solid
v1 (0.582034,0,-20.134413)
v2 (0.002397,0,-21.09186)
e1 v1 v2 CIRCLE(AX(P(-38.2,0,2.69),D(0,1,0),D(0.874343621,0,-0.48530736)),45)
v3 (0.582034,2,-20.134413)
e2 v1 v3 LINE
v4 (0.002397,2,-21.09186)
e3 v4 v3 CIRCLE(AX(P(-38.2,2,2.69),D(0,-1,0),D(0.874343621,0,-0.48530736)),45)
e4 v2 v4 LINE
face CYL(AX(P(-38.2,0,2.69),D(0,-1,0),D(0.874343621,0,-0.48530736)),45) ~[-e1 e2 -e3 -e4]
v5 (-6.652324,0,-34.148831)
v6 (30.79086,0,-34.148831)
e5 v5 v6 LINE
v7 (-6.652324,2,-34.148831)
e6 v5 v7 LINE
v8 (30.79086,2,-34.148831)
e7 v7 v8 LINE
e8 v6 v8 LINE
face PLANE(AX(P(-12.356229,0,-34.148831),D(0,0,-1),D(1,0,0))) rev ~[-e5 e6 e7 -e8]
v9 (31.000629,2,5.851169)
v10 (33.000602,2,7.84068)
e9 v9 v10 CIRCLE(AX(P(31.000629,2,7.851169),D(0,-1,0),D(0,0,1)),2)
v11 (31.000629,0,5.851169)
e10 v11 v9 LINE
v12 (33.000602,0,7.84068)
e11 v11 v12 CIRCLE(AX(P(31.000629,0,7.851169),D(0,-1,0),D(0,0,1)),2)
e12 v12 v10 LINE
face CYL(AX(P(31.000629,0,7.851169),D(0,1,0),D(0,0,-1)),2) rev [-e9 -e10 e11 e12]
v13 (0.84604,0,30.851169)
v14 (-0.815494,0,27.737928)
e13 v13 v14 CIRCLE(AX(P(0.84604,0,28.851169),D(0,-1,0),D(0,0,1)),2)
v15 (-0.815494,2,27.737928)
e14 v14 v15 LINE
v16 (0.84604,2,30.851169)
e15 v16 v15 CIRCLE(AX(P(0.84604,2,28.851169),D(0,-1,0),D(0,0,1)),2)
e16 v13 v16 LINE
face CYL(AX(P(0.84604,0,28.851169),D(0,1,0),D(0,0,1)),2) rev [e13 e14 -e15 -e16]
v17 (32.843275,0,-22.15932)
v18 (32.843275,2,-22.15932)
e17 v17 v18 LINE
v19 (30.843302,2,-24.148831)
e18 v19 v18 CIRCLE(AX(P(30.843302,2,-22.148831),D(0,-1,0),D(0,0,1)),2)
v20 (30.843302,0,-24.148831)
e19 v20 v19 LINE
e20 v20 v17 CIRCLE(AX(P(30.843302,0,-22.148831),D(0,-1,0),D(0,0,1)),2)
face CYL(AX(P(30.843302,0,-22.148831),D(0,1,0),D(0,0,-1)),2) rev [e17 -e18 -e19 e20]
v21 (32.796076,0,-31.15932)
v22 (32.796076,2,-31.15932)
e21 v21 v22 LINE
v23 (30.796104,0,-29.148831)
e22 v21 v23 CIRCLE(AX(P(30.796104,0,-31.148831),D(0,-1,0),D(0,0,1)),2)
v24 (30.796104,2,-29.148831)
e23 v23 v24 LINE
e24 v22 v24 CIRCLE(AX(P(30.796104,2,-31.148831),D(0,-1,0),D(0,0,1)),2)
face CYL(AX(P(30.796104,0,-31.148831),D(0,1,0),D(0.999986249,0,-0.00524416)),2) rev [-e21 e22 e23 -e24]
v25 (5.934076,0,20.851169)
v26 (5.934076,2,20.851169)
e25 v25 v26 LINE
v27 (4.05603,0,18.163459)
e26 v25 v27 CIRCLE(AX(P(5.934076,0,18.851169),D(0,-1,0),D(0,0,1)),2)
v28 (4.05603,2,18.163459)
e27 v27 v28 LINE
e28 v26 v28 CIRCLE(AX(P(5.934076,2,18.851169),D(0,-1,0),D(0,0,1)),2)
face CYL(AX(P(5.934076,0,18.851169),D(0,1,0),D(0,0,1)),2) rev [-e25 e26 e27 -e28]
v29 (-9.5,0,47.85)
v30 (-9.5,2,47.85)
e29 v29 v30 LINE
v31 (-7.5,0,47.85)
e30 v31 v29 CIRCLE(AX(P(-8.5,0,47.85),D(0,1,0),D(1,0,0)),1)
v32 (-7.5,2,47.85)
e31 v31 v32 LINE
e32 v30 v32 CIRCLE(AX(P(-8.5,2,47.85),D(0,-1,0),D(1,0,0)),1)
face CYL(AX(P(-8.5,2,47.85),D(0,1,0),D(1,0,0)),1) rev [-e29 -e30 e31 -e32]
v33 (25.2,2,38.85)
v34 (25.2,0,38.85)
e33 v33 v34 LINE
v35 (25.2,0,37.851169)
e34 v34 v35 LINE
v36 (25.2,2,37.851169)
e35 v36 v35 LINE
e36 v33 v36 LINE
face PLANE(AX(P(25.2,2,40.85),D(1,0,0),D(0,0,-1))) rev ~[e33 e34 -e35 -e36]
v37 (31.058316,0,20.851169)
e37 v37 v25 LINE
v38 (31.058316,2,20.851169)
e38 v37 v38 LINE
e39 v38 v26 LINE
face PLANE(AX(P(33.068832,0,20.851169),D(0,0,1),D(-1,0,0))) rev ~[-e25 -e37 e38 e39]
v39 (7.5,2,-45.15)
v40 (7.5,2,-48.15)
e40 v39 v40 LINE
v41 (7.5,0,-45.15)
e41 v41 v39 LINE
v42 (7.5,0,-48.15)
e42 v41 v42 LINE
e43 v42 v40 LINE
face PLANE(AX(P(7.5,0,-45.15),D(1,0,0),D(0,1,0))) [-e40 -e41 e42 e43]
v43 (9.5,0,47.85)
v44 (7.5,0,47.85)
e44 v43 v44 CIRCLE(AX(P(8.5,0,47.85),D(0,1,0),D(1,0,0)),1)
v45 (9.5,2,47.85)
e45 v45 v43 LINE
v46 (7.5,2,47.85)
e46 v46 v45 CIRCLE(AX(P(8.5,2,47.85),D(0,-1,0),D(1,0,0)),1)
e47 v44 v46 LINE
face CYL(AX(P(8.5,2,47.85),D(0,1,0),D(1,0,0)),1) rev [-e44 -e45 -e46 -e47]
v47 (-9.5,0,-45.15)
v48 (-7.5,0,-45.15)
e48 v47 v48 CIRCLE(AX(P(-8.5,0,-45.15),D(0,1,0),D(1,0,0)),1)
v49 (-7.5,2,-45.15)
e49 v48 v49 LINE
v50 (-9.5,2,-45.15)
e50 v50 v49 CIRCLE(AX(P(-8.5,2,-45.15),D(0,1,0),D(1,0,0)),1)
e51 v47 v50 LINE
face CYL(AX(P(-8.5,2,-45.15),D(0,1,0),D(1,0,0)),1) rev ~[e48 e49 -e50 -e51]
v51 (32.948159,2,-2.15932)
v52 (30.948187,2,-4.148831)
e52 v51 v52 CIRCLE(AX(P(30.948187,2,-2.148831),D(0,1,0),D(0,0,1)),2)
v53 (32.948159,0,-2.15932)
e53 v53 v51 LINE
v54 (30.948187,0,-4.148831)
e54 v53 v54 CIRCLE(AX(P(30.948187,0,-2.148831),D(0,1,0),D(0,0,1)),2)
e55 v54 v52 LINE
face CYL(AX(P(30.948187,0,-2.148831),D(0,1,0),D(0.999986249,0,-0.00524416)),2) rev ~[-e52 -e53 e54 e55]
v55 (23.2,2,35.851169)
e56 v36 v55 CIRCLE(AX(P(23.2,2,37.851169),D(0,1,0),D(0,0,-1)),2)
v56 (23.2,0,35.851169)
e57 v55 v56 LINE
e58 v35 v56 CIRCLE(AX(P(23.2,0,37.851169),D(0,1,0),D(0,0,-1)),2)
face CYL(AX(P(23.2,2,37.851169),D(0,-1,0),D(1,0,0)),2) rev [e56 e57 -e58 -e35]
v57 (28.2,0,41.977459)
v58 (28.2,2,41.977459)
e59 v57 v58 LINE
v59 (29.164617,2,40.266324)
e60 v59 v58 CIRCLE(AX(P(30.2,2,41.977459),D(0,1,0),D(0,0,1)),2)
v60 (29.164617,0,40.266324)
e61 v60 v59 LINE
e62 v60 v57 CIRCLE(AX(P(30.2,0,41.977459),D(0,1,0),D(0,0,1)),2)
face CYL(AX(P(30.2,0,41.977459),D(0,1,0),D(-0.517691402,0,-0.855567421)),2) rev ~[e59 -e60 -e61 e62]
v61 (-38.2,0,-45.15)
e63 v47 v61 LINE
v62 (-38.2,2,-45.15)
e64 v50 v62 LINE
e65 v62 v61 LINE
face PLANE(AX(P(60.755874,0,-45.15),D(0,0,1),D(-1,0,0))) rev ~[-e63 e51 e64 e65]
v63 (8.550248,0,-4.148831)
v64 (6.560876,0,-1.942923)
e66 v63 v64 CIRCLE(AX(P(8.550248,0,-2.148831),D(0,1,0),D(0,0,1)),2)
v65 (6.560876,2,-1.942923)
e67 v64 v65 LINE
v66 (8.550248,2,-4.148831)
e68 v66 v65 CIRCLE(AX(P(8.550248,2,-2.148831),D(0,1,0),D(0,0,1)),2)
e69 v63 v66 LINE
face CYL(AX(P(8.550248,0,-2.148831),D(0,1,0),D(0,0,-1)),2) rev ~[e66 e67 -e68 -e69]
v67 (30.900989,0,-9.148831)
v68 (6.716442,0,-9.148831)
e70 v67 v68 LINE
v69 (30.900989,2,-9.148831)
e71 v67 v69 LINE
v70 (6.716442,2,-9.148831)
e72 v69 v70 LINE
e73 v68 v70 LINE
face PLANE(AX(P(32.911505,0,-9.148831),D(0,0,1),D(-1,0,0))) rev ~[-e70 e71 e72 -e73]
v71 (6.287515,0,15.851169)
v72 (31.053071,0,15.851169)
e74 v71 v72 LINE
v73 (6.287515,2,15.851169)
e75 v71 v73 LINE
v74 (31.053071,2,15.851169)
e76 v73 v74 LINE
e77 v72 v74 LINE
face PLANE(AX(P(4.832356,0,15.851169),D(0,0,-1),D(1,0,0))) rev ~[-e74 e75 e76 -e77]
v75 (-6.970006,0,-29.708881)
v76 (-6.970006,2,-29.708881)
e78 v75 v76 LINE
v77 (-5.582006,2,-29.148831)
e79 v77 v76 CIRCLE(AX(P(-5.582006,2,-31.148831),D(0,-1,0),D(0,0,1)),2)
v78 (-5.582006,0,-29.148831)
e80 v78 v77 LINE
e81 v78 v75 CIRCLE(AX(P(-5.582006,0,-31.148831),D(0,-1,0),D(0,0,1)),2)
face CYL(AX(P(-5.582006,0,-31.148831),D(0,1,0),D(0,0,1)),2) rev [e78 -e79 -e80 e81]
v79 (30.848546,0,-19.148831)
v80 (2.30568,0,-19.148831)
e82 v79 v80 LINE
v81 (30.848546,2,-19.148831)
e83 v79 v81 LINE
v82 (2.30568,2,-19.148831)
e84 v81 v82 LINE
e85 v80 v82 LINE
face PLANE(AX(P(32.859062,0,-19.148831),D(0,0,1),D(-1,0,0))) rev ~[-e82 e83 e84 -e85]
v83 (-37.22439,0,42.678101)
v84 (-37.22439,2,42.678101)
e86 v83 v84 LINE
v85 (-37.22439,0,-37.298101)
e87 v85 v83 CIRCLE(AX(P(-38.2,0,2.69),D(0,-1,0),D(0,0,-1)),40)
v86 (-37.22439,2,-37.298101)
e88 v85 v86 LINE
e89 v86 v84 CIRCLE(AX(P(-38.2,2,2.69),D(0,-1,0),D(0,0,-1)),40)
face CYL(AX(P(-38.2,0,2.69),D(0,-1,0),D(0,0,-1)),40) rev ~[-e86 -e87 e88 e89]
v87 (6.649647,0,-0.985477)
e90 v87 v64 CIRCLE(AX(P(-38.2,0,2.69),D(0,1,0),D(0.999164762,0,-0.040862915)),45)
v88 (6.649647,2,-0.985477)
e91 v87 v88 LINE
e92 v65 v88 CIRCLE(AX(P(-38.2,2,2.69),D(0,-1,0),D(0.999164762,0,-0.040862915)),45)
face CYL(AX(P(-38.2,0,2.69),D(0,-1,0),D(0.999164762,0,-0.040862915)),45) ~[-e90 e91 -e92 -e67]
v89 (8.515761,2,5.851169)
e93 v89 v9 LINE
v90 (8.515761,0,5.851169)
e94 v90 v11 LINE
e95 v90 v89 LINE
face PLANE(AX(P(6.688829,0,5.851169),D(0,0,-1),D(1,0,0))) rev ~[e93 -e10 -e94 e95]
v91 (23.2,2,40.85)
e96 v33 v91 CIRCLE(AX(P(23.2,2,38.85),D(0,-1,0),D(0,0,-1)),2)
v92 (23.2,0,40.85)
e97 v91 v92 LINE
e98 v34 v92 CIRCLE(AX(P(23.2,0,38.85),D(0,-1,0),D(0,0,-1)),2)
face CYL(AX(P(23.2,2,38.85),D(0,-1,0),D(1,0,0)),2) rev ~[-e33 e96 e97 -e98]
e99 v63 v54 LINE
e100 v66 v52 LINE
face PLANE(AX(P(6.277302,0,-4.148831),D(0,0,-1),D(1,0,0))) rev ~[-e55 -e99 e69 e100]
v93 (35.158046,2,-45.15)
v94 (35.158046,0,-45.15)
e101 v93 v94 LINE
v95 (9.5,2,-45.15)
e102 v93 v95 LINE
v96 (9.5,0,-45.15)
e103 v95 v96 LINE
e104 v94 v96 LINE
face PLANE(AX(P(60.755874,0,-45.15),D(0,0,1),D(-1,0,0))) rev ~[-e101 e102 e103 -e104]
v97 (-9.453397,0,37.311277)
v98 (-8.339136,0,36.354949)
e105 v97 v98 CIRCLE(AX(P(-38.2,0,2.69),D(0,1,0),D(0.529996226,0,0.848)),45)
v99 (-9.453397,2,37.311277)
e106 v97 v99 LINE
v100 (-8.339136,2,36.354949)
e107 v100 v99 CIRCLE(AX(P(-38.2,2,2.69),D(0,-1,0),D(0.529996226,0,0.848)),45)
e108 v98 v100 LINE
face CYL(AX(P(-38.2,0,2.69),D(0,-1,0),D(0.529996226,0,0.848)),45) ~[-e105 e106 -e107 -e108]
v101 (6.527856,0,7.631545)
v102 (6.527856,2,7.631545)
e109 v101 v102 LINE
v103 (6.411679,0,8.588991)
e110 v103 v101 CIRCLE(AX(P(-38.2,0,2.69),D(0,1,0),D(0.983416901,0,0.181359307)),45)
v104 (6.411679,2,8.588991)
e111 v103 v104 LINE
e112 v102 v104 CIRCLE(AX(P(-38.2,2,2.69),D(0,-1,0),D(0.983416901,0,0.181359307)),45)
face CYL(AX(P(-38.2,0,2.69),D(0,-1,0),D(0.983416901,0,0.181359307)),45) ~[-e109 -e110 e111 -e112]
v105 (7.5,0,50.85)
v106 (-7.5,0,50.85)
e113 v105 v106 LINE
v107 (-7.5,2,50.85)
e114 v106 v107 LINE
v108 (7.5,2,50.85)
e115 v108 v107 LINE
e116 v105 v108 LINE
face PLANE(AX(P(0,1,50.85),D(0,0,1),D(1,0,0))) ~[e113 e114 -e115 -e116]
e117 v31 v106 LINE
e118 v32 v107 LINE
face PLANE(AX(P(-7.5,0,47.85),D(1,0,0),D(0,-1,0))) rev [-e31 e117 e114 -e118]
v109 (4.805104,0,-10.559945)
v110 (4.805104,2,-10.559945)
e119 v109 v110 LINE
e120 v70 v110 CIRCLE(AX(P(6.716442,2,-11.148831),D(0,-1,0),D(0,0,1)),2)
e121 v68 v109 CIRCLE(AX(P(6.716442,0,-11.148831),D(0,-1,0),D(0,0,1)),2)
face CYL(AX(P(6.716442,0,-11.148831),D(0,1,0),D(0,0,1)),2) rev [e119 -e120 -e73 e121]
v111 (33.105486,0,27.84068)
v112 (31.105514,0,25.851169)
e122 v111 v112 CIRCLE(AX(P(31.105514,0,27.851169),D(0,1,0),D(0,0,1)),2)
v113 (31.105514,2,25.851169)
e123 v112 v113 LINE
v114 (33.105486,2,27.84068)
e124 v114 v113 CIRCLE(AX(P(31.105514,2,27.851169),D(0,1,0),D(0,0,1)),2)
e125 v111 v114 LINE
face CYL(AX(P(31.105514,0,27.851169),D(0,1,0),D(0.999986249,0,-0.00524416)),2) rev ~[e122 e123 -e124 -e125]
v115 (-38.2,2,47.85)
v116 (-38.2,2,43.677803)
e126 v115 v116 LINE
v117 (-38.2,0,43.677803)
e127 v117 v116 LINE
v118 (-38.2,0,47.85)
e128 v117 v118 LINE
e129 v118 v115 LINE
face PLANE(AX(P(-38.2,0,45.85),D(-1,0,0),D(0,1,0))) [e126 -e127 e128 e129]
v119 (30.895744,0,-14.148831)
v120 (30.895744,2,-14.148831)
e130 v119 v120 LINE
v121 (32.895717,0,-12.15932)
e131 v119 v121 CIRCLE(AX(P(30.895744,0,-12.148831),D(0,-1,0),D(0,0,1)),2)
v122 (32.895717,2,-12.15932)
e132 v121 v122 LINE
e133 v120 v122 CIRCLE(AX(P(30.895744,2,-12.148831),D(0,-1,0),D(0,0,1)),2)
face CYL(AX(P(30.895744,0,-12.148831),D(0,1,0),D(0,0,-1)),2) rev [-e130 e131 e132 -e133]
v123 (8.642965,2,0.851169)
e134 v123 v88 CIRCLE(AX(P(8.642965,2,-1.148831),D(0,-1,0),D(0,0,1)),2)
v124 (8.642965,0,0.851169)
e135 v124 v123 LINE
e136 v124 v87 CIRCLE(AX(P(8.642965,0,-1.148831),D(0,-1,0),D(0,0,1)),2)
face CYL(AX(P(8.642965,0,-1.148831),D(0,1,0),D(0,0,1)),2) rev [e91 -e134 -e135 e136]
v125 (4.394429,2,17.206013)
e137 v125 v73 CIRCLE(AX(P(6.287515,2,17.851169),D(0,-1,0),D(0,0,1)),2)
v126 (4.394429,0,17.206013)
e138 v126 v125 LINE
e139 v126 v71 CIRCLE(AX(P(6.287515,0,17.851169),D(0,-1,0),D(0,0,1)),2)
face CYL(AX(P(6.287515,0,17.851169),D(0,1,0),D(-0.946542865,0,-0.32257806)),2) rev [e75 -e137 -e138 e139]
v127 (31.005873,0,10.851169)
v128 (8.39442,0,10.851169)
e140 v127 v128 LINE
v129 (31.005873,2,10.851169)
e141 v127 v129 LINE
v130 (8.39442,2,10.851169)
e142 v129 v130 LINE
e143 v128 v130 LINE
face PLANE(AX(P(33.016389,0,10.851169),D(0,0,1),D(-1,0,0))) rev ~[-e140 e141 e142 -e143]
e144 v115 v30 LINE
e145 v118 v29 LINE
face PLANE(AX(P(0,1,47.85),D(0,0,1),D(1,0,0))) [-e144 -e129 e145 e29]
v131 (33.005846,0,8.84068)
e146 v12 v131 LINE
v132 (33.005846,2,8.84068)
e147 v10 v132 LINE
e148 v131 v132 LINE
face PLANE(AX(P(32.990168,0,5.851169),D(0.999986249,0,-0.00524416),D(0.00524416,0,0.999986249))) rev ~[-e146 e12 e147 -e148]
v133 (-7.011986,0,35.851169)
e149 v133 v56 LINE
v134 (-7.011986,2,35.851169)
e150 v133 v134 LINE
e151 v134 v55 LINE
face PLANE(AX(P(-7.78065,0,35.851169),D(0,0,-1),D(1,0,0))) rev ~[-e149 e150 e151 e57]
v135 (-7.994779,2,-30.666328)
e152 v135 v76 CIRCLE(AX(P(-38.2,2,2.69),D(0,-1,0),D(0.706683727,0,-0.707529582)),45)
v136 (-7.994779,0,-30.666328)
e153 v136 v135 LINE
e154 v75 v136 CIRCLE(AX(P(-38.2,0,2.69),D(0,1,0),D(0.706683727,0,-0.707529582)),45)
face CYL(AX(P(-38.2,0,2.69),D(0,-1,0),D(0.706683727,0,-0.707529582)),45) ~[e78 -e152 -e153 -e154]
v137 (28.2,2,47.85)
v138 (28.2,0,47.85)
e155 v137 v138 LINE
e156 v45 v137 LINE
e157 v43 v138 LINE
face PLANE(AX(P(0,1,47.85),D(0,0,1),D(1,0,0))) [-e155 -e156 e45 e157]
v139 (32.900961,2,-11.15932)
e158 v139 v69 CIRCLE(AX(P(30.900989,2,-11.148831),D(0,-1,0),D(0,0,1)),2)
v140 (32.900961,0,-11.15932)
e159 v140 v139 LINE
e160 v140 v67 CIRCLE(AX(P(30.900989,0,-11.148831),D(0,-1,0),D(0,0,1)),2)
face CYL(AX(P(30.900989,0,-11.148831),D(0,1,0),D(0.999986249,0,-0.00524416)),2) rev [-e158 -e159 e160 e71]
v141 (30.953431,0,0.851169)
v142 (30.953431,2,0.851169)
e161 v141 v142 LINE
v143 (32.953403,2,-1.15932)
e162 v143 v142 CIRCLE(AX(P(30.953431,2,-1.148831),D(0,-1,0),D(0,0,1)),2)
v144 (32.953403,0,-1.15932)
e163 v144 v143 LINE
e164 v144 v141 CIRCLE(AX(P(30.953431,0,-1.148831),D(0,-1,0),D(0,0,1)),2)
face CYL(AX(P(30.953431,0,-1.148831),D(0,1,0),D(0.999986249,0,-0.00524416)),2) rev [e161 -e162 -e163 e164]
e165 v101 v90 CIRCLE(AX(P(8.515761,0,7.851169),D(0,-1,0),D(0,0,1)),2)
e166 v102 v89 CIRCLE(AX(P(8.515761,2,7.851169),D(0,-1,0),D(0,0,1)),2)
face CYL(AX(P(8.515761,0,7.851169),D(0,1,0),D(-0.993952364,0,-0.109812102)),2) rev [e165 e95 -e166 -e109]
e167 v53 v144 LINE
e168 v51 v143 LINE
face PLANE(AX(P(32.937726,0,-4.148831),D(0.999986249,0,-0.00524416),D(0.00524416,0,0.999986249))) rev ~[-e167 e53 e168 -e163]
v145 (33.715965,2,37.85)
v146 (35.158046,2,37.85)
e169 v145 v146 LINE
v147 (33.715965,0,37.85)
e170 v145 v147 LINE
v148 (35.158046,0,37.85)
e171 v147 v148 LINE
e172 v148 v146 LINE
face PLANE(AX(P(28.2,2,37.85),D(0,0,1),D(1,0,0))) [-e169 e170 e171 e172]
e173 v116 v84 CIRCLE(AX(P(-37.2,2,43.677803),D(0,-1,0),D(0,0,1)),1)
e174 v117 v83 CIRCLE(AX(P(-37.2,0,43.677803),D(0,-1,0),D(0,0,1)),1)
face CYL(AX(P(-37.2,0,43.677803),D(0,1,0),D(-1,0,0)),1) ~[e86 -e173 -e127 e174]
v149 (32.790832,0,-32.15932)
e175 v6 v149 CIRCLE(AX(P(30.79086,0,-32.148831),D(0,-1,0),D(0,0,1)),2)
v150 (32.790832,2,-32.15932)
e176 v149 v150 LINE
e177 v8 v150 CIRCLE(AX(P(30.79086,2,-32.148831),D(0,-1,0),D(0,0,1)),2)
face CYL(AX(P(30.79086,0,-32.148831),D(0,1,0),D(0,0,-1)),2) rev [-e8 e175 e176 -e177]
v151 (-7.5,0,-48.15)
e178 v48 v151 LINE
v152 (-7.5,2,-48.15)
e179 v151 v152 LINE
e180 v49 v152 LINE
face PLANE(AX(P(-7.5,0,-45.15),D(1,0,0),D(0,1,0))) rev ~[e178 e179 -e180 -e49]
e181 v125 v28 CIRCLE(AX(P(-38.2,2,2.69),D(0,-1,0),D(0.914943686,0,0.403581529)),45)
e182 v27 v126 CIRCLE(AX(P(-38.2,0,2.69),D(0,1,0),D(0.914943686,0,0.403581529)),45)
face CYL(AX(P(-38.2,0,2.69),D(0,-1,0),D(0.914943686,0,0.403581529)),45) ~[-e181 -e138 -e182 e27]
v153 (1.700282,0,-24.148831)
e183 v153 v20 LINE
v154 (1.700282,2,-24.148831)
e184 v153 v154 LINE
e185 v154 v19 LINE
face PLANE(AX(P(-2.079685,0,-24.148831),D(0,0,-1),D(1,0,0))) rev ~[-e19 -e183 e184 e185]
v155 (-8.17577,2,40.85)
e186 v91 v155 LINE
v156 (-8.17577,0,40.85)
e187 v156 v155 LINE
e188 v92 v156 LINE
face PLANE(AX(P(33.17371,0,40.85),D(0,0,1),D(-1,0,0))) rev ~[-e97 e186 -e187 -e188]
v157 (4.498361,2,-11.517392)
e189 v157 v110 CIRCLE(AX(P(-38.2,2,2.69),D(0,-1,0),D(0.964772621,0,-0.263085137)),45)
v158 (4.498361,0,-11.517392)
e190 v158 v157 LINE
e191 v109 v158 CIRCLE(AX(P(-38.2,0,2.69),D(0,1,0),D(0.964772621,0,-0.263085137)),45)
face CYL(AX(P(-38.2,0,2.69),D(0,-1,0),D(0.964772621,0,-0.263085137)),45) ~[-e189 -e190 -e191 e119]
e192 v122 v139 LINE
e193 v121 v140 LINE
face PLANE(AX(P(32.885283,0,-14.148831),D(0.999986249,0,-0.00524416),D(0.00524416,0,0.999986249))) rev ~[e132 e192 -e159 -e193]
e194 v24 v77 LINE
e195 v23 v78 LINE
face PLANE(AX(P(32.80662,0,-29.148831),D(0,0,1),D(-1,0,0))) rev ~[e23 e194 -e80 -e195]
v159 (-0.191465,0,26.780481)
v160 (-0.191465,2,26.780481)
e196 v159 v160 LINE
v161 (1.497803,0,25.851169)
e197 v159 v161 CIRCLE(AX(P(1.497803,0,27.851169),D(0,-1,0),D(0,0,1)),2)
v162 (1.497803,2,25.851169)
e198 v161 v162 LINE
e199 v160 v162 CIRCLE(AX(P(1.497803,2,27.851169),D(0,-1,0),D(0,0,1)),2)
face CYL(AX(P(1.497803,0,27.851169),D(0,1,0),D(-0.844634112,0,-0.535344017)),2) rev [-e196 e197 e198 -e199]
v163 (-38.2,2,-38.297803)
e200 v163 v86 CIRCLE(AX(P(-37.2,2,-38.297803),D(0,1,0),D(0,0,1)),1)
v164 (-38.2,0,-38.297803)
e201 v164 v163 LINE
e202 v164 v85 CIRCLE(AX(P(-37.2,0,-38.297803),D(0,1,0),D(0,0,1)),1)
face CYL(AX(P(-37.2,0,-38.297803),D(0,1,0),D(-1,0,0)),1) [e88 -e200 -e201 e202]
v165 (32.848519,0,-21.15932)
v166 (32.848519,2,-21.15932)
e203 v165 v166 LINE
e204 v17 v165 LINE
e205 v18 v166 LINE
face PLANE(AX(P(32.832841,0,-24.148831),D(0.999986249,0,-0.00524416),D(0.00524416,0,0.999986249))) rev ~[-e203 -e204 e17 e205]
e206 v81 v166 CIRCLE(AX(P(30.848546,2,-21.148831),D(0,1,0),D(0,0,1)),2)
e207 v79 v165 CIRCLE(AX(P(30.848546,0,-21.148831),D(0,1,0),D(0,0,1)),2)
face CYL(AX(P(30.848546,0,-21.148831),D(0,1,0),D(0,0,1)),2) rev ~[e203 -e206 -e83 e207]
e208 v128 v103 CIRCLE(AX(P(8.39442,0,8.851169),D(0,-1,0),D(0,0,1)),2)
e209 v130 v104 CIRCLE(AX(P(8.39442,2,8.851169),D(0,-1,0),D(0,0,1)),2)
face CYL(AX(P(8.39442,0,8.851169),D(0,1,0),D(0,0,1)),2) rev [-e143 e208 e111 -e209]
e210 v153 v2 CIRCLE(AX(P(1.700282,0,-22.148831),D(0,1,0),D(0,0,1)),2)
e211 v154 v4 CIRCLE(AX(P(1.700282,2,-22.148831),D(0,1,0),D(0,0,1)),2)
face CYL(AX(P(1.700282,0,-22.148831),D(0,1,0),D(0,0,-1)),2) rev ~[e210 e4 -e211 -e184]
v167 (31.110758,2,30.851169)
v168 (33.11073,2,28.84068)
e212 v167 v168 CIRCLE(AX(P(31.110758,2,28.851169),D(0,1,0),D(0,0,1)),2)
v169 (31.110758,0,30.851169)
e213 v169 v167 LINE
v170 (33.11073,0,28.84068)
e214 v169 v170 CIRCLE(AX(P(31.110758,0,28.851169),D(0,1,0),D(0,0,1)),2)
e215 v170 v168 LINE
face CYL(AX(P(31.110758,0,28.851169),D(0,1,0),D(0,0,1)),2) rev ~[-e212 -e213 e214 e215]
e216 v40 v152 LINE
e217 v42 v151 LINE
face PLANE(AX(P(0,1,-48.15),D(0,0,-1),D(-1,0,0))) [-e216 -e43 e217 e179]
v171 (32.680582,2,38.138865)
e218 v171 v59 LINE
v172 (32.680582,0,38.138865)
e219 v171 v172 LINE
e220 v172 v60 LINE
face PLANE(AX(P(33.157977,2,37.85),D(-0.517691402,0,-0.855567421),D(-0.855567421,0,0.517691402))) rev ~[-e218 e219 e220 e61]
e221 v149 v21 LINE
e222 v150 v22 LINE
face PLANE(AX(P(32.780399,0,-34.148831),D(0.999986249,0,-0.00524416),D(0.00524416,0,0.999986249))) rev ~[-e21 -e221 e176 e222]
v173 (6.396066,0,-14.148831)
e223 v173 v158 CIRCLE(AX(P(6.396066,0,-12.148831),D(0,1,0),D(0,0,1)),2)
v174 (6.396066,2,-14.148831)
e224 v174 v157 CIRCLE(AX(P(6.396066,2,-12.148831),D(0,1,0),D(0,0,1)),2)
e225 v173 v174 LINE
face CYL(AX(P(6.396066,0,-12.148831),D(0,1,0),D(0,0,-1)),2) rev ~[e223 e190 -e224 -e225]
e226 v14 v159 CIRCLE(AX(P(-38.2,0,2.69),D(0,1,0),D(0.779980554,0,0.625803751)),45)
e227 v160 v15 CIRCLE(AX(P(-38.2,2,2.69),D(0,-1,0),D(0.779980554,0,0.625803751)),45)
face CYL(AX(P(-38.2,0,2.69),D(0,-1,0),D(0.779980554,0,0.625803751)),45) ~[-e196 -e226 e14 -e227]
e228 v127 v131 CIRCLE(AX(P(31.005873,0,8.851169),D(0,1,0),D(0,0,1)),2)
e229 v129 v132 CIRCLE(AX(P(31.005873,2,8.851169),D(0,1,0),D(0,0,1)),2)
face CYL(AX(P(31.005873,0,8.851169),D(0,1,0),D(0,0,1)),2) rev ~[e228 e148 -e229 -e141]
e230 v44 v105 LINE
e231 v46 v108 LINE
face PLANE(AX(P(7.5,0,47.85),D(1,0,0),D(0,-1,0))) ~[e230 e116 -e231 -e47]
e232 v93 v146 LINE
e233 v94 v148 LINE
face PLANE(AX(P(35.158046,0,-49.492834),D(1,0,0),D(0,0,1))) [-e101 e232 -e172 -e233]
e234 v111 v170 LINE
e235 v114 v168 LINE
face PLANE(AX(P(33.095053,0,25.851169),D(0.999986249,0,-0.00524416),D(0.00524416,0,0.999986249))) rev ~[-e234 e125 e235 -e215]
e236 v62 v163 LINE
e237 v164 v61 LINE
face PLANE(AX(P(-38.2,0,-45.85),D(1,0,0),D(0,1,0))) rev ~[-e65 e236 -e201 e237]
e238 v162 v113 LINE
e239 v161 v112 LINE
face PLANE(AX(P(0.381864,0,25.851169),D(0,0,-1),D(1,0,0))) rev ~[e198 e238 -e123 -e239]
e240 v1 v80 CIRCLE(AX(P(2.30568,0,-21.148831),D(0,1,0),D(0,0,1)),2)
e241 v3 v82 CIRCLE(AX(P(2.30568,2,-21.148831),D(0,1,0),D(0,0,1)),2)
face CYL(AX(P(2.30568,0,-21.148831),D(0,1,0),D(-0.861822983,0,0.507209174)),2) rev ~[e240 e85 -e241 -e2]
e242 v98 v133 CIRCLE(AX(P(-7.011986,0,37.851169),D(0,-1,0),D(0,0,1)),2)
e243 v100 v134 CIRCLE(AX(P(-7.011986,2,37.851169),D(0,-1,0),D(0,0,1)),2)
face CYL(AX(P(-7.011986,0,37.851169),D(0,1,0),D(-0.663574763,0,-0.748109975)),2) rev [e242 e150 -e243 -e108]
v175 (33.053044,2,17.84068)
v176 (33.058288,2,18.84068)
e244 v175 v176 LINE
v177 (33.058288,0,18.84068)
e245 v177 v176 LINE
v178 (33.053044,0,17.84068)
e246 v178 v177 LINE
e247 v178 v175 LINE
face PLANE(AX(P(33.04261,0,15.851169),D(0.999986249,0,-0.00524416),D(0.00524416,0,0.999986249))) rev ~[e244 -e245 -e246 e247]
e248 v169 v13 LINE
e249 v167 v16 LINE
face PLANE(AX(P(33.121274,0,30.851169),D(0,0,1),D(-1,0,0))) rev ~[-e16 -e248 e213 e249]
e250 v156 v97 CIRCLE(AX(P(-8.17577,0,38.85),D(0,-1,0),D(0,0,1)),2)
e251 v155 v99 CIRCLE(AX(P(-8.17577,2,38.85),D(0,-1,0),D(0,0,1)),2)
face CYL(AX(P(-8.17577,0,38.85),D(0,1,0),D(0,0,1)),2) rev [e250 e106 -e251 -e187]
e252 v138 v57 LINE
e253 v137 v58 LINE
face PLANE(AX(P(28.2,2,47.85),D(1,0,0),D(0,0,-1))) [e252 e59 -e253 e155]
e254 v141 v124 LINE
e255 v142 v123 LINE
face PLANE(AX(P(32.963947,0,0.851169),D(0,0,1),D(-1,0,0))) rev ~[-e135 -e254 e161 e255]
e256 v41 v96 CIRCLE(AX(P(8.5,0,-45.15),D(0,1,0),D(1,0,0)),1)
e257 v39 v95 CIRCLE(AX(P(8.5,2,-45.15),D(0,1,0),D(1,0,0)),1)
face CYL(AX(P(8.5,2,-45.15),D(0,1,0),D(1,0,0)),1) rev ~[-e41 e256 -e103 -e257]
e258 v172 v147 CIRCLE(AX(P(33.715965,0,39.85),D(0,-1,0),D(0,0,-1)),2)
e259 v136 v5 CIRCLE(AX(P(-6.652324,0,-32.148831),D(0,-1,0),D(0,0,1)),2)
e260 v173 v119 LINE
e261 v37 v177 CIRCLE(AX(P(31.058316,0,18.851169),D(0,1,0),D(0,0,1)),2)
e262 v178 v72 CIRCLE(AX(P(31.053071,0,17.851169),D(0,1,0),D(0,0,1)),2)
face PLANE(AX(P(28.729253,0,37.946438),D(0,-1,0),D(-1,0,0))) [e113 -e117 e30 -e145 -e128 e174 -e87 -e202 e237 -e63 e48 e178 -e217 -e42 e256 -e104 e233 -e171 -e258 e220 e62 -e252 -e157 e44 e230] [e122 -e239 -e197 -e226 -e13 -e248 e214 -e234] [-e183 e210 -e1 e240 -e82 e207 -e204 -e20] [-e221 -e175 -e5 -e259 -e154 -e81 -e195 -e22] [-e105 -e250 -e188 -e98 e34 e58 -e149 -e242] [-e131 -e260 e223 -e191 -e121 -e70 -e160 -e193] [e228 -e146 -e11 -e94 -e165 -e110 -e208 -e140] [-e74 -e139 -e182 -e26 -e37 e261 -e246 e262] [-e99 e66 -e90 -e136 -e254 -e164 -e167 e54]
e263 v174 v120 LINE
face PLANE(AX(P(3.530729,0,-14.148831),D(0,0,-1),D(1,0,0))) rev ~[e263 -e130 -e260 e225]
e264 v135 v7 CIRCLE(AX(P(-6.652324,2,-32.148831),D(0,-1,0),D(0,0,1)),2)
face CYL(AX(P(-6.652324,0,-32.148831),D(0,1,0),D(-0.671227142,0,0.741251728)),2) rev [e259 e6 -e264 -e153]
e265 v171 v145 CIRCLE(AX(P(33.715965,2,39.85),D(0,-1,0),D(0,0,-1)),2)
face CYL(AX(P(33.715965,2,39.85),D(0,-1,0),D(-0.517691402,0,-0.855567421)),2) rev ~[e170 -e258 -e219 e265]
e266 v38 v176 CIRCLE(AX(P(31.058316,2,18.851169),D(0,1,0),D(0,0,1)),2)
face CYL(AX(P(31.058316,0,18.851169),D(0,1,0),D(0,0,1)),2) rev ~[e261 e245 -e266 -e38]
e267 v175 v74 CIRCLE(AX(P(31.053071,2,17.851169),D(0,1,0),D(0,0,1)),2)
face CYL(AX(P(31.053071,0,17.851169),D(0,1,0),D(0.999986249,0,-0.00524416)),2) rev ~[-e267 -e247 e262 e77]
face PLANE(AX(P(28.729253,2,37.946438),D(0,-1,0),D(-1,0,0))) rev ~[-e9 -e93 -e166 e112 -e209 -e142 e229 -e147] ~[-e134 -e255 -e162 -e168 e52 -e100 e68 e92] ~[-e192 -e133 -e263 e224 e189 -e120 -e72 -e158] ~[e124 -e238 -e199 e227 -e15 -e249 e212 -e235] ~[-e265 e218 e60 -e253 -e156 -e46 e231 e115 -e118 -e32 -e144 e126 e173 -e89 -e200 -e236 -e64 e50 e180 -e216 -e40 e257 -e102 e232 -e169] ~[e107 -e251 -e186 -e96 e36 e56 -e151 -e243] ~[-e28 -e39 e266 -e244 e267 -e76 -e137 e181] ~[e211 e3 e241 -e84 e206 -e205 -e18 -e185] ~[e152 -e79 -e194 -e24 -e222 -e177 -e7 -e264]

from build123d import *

# Parameters (mm, degrees)
EXTRUDE_1_DEPTH          = 2
SKETCH_3_W               = 76.4
SKETCH_3_H               = 2
EXTRUDE_2_DEPTH          = 7
CUT_EXTRUDE_1_DEPTH      = 10
EXTRUDE_4_DEPTH          = 2
PATTERN_LINEAR_2_COUNT   = 2
PATTERN_LINEAR_2_PITCH   = 32
FILLET_3_R               = 0.5
CUT_EXTRUDE_2_DEPTH      = 10
EXTRUDE_5_DEPTH          = 2
CUT_EXTRUDE_3_DEPTH      = 10
CUT_EXTRUDE_4_DEPTH      = 10
FILLET_5_R               = 2
EXTRUDE_9_DEPTH          = 2
FILLET_6_R               = 2
FILLET_7_R               = 1
SKETCH_18_W              = 76.4
SKETCH_18_H              = 2
EXTRUDE_6_DEPTH          = 2
SKETCH_19_W              = 10
SKETCH_19_H              = 10
CUT_EXTRUDE_5_DEPTH      = 3
EXTRUDE_8_DEPTH          = 2
FILLET_8_R               = 2
FILLET_9_R               = 2
SKETCH_21_W              = 3
SKETCH_21_H              = 87.342834434
CUT_EXTRUDE_6_DEPTH      = 3
CUT_EXTRUDE_7_DEPTH      = 1
CUT_EXTRUDE_7_DEPTH_BACK = 3
SKETCH_24_W              = 15
SKETCH_24_H              = 2
EXTRUDE_10_DEPTH         = 3
SKETCH_25_R              = 1
CUT_EXTRUDE_8_DEPTH      = 3


with BuildPart() as part:
    # 草图1 → 凸台-拉伸1 (new body)
    with BuildSketch(Plane(origin=(0, 0, 0), x_dir=(1, 0, 0), z_dir=(0, 1, 0))):
        with BuildLine():
            Line((-38.2, -42.69), (-38.2, -45.85))
            Line((-38.2, -45.85), (38.2, -45.85))
            Line((38.2, -45.85), (38.2, 45.85))
            Line((38.2, 45.85), (-38.2, 45.85))
            Line((-38.2, 45.85), (-38.2, 37.31))
            ThreePointArc((-38.2, 37.31), (1.8, -2.69), (-38.2, -42.69))
        make_face()
    extrude(amount=EXTRUDE_1_DEPTH)

    # 草图3 → 凸台-拉伸2 (add)
    with BuildSketch(Plane(origin=(0, 0, -45.85), x_dir=(-1, 0, 0), z_dir=(0, 0, -1))):
        with Locations((0, 1)):
            Rectangle(SKETCH_3_W, SKETCH_3_H)
    extrude(amount=EXTRUDE_2_DEPTH)

    # 草图5 → 切除-拉伸1 (cut)
    with BuildSketch(Plane(origin=(0, 2, 0), x_dir=(1, 0, 0), z_dir=(0, 1, 0))):
        Polygon((-38.2, 51.26), (38.2, 52.85), (-38.2, 52.85), align=None)
    extrude(amount=-CUT_EXTRUDE_1_DEPTH, mode=Mode.SUBTRACT)

    # 草图7 → 凸台-拉伸4 (add)
    with BuildSketch(Plane.XZ):
        Polygon((25.6, -52.587774869), (25.6, -54.754790576), (9.6, -54.754790576), (9.6, -52.254790576), align=None)
    extrude_4 = extrude(amount=-EXTRUDE_4_DEPTH)

    # 阵列(线性)2: 凸台-拉伸4 ×2
    with Locations(*[Vector(-0.999783511, 0, 0.020807013) * (i * PATTERN_LINEAR_2_PITCH) for i in range(1, PATTERN_LINEAR_2_COUNT)]):
        add(extrude_4)

    # 圆角3
    fillet_3_edges = [part.edges().sort_by_distance(p)[0] for p in [
        (25.6, 1, -54.754790576),
        (9.6, 1, -54.754790576),
        (-6.393072342, 1, -54.088966165),
        (-22.393072342, 1, -54.088966165),
    ]]
    fillet(fillet_3_edges, radius=FILLET_3_R)

    # 草图10 → 切除-拉伸2 (cut)
    with BuildSketch(Plane(origin=(0, 2, 0), x_dir=(1, 0, 0), z_dir=(0, 1, 0))):
        Polygon((-38.882265213, 53.905585721), (39.585789662, 55.538625083), (39.585789662, 48.538625083), (-38.2, 46.919784696), (-39.22769149, 52.889737929), align=None)
    extrude(amount=-CUT_EXTRUDE_2_DEPTH, mode=Mode.SUBTRACT)

    # 草图11 → 凸台-拉伸5 (add)
    with BuildSketch(Plane(origin=(0, 2, 0), x_dir=(1, 0, 0), z_dir=(0, 1, 0))):
        Polygon((-38.2, 46.919784696), (38.2, 49.509784696), (38.2, 48.509784696), align=None)
    extrude(amount=-EXTRUDE_5_DEPTH)

    # 草图13 → 切除-拉伸3 (cut)
    with BuildSketch(Plane.XZ):
        Polygon((38.2, -49.509784696), (37.7, -49.492834434), (38.2, 45.85), align=None)
    extrude(amount=-CUT_EXTRUDE_3_DEPTH, mode=Mode.SUBTRACT)

    # 草图16 → 切除-拉伸4 (cut)
    with BuildSketch(Plane.XZ):
        with BuildLine():
            ThreePointArc((-21.63159016, -39.14883119), (-26.948214114, -40.880601492), (-32.438562967, -41.939652064))
            Line((-32.438562967, -41.939652064), (32.727956442, -44.14883119))
            Line((32.727956442, -44.14883119), (32.754177605, -39.14883119))
            Line((32.754177605, -39.14883119), (-21.63159016, -39.14883119))
        make_face()
        with BuildLine():
            ThreePointArc((-6.399232266, -29.14883119), (-9.26951053, -31.777764346), (-12.35622867, -34.14883119))
            Line((-12.35622867, -34.14883119), (32.780398767, -34.14883119))
            Line((32.780398767, -34.14883119), (32.80661993, -29.14883119))
            Line((32.80661993, -29.14883119), (-6.399232266, -29.14883119))
        make_face()
        with BuildLine():
            ThreePointArc((1.145462918, -19.14883119), (-0.38438284, -21.702193399), (-2.079685213, -24.14883119))
            Line((-2.079685213, -24.14883119), (32.832841093, -24.14883119))
            Line((32.832841093, -24.14883119), (32.859062256, -19.14883119))
            Line((32.859062256, -19.14883119), (1.145462918, -19.14883119))
        make_face()
        with BuildLine():
            ThreePointArc((5.214767949, -9.14883119), (4.446089194, -11.673532869), (3.530729255, -14.14883119))
            Line((3.530729255, -14.14883119), (32.885283419, -14.14883119))
            Line((32.885283419, -14.14883119), (32.911504582, -9.14883119))
            Line((32.911504582, -9.14883119), (5.214767949, -9.14883119))
        make_face()
        with BuildLine():
            Line((32.937725745, -4.14883119), (32.963946908, 0.85116881))
            Line((32.963946908, 0.85116881), (6.762414302, 0.85116881))
            ThreePointArc((6.762414302, 0.85116881), (6.58968308, -1.65560578), (6.277301941, -4.14883119))
            Line((6.277301941, -4.14883119), (32.937725745, -4.14883119))
        make_face()
        with BuildLine():
            Line((33.016389234, 10.85116881), (6.053760559, 10.85116881))
            ThreePointArc((6.053760559, 10.85116881), (6.441352349, 8.360067057), (6.688829476, 5.85116881))
            Line((6.688829476, 5.85116881), (32.990168071, 5.85116881))
            Line((32.990168071, 5.85116881), (33.016389234, 10.85116881))
        make_face()
        with BuildLine():
            Line((33.06883156, 20.85116881), (2.97246589, 20.85116881))
            ThreePointArc((2.97246589, 20.85116881), (3.976569254, 18.378754125), (4.832355682, 15.85116881))
            Line((4.832355682, 15.85116881), (33.042610397, 15.85116881))
            Line((33.042610397, 15.85116881), (33.06883156, 20.85116881))
        make_face()
        with BuildLine():
            Line((33.121273886, 30.85116881), (-3.100875064, 30.85116881))
            ThreePointArc((-3.100875064, 30.85116881), (-1.274777634, 28.410185715), (0.381864384, 25.85116881))
            Line((0.381864384, 25.85116881), (33.095052723, 25.85116881))
            Line((33.095052723, 25.85116881), (33.121273886, 30.85116881))
        make_face()
        with BuildLine():
            Line((33.173710083, 40.85), (-14.350169812, 40.85))
            ThreePointArc((-14.350169812, 40.85), (-10.950539992, 38.501547429), (-7.780649528, 35.85116881))
            Line((-7.780649528, 35.85116881), (33.147495049, 35.85116881))
            Line((33.147495049, 35.85116881), (33.173710083, 40.85))
        make_face()
    extrude(amount=-CUT_EXTRUDE_4_DEPTH, mode=Mode.SUBTRACT)

    # 圆角5
    fillet_5_edges = [part.edges().sort_by_distance(p)[0] for p in [
        (-21.63159016, 1, -39.14883119),
        (32.754177605, 1, -39.14883119),
        (32.727956442, 1, -44.14883119),
        (-6.399232266, 1, -29.14883119),
        (32.80661993, 1, -29.14883119),
        (32.780398767, 1, -34.14883119),
        (-2.079685213, 1, -24.14883119),
        (3.530729255, 1, -14.14883119),
        (5.214767949, 1, -9.14883119),
        (32.911504582, 1, -9.14883119),
        (32.885283419, 1, -14.14883119),
        (32.937725745, 1, -4.14883119),
        (6.688829476, 1, 5.85116881),
        (33.016389234, 1, 10.85116881),
        (32.990168071, 1, 5.85116881),
        (4.832355682, 1, 15.85116881),
        (2.97246589, 1, 20.85116881),
        (0.381864384, 1, 25.85116881),
        (-3.100875064, 1, 30.85116881),
        (33.121273886, 1, 30.85116881),
        (-14.350169812, 1, 40.85),
        (33.173710083, 1, 40.85),
    ]]
    fillet(fillet_5_edges, radius=FILLET_5_R)

    # 草图23 → 凸台-拉伸9 (add)
    with BuildSketch(Plane.XZ):
        with BuildLine():
            Line((30.743661638, -39.14883119), (-21.254296123, -39.14883119))
            ThreePointArc((-21.254296123, -39.14883119), (-21.621062836, -39.182748237), (-21.975389905, -39.283349012))
            ThreePointArc((-21.975389905, -39.283349012), (-27.127035015, -40.926389654), (-32.438562967, -41.939652064))
            Line((-32.438562967, -41.939652064), (30.67101495, -44.079099797))
            ThreePointArc((30.67101495, -44.079099797), (32.125051399, -43.521859473), (32.738749569, -42.090736373))
            Line((32.738749569, -42.090736373), (32.743634136, -41.159319511))
            ThreePointArc((32.743634136, -41.159319511), (32.161578532, -39.738330684), (30.743661638, -39.14883119))
        make_face()
    extrude(amount=-EXTRUDE_9_DEPTH)

    # 圆角6
    fillet_6_edges = [part.edges().sort_by_distance(p)[0] for p in [
        (-12.35622867, 1, -34.14883119),
        (1.145462918, 1, -19.14883119),
        (32.859062256, 1, -19.14883119),
        (32.832841093, 1, -24.14883119),
        (6.277301941, 1, -4.14883119),
        (6.762414302, 1, 0.85116881),
        (32.963946908, 1, 0.85116881),
        (6.053760559, 1, 10.85116881),
        (33.06883156, 1, 20.85116881),
        (33.042610397, 1, 15.85116881),
        (33.095052723, 1, 25.85116881),
        (-7.780649528, 1, 35.85116881),
        (33.147495049, 1, 35.85116881),
    ]]
    fillet(fillet_6_edges, radius=FILLET_6_R)

    # 圆角7
    fillet_7_edges = [part.edges().sort_by_distance(p)[0] for p in [
        (-38.2, 1, 42.69),
        (-38.2, 1, -37.31),
        (-38.2, 1, -46.919784696),
    ]]
    fillet(fillet_7_edges, radius=FILLET_7_R)

    # 草图18 → 凸台-拉伸6 (add)
    with BuildSketch(Plane.XY.offset(45.85)):
        with Locations((0, 1)):
            Rectangle(SKETCH_18_W, SKETCH_18_H)
    extrude(amount=EXTRUDE_6_DEPTH)

    # 草图19 → 切除-拉伸5 (cut, through all)
    with BuildSketch(Plane(origin=(0, 2, 0), x_dir=(1, 0, 0), z_dir=(0, 1, 0))):
        with Locations((33.2, -42.85)):
            Rectangle(SKETCH_19_W, SKETCH_19_H)
    extrude(amount=-CUT_EXTRUDE_5_DEPTH, mode=Mode.SUBTRACT)

    # 草图20 → 凸台-拉伸8 (add)
    with BuildSketch(Plane(origin=(0, 2, 0), x_dir=(1, 0, 0), z_dir=(0, 1, 0))):
        Polygon((25.2, -35.85116881), (33.157977385, -35.85116881), (33.157977385, -37.85), (28.2, -40.85), (25.2, -40.85), align=None)
    extrude(amount=-EXTRUDE_8_DEPTH)

    # 圆角8
    fillet_8_edges = [part.edges().sort_by_distance(p)[0] for p in [
        (25.2, 1, 40.85),
        (25.2, 1, 35.85116881),
    ]]
    fillet(fillet_8_edges, radius=FILLET_8_R)

    # 圆角9
    fillet_9_edges = [part.edges().sort_by_distance(p)[0] for p in [
        (33.157977385, 1, 37.85),
        (28.2, 1, 40.85),
    ]]
    fillet(fillet_9_edges, radius=FILLET_9_R)

    # 草图21 → 切除-拉伸6 (cut, through all)
    with BuildSketch(Plane.XZ):
        with Locations((36.658046139, -5.821417217)):
            Rectangle(SKETCH_21_W, SKETCH_21_H)
    extrude(amount=-CUT_EXTRUDE_6_DEPTH, mode=Mode.SUBTRACT)

    # 草图22 → 切除-拉伸7 (cut, two sides)
    with BuildSketch(Plane.XZ) as cut_extrude_7_sk:
        Polygon((-290.579437235, -45.15), (-39.244125604, -45.15), (60.755874396, -45.15), (60.755874396, -51.15), (-39.244125604, -51.15), (-39.244125604, -47.15), (-39.244125604, 204.185311631), (314.77499341, -152.673510404), (63.439681778, -402.008822036), align=None)
    extrude(amount=CUT_EXTRUDE_7_DEPTH, mode=Mode.SUBTRACT)
    extrude(cut_extrude_7_sk.sketch, amount=-CUT_EXTRUDE_7_DEPTH_BACK, mode=Mode.SUBTRACT)

    # 草图24 → 凸台-拉伸10 (add)
    with BuildSketch(Plane(origin=(0, 0, -45.15), x_dir=(-1, 0, 0), z_dir=(0, 0, -1))):
        with Locations((0, 1)):
            Rectangle(SKETCH_24_W, SKETCH_24_H)
    extrude_10 = extrude(amount=EXTRUDE_10_DEPTH)

    # 草图25 → 切除-拉伸8 (cut, through all)
    with BuildSketch(Plane(origin=(0, 2, 0), x_dir=(1, 0, 0), z_dir=(0, 1, 0))):
        with Locations((-8.5, 45.15)):
            Circle(SKETCH_25_R)
        with Locations((8.5, 45.15)):
            Circle(SKETCH_25_R)
    cut_extrude_8 = extrude(amount=-CUT_EXTRUDE_8_DEPTH, mode=Mode.SUBTRACT)

    # 镜向1: 凸台-拉伸10, 切除-拉伸8 across plane
    add(extrude_10.mirror(Plane.XY.offset(1.35)))
    add(cut_extrude_8.mirror(Plane.XY.offset(1.35)), mode=Mode.SUBTRACT)


solid = part.part
